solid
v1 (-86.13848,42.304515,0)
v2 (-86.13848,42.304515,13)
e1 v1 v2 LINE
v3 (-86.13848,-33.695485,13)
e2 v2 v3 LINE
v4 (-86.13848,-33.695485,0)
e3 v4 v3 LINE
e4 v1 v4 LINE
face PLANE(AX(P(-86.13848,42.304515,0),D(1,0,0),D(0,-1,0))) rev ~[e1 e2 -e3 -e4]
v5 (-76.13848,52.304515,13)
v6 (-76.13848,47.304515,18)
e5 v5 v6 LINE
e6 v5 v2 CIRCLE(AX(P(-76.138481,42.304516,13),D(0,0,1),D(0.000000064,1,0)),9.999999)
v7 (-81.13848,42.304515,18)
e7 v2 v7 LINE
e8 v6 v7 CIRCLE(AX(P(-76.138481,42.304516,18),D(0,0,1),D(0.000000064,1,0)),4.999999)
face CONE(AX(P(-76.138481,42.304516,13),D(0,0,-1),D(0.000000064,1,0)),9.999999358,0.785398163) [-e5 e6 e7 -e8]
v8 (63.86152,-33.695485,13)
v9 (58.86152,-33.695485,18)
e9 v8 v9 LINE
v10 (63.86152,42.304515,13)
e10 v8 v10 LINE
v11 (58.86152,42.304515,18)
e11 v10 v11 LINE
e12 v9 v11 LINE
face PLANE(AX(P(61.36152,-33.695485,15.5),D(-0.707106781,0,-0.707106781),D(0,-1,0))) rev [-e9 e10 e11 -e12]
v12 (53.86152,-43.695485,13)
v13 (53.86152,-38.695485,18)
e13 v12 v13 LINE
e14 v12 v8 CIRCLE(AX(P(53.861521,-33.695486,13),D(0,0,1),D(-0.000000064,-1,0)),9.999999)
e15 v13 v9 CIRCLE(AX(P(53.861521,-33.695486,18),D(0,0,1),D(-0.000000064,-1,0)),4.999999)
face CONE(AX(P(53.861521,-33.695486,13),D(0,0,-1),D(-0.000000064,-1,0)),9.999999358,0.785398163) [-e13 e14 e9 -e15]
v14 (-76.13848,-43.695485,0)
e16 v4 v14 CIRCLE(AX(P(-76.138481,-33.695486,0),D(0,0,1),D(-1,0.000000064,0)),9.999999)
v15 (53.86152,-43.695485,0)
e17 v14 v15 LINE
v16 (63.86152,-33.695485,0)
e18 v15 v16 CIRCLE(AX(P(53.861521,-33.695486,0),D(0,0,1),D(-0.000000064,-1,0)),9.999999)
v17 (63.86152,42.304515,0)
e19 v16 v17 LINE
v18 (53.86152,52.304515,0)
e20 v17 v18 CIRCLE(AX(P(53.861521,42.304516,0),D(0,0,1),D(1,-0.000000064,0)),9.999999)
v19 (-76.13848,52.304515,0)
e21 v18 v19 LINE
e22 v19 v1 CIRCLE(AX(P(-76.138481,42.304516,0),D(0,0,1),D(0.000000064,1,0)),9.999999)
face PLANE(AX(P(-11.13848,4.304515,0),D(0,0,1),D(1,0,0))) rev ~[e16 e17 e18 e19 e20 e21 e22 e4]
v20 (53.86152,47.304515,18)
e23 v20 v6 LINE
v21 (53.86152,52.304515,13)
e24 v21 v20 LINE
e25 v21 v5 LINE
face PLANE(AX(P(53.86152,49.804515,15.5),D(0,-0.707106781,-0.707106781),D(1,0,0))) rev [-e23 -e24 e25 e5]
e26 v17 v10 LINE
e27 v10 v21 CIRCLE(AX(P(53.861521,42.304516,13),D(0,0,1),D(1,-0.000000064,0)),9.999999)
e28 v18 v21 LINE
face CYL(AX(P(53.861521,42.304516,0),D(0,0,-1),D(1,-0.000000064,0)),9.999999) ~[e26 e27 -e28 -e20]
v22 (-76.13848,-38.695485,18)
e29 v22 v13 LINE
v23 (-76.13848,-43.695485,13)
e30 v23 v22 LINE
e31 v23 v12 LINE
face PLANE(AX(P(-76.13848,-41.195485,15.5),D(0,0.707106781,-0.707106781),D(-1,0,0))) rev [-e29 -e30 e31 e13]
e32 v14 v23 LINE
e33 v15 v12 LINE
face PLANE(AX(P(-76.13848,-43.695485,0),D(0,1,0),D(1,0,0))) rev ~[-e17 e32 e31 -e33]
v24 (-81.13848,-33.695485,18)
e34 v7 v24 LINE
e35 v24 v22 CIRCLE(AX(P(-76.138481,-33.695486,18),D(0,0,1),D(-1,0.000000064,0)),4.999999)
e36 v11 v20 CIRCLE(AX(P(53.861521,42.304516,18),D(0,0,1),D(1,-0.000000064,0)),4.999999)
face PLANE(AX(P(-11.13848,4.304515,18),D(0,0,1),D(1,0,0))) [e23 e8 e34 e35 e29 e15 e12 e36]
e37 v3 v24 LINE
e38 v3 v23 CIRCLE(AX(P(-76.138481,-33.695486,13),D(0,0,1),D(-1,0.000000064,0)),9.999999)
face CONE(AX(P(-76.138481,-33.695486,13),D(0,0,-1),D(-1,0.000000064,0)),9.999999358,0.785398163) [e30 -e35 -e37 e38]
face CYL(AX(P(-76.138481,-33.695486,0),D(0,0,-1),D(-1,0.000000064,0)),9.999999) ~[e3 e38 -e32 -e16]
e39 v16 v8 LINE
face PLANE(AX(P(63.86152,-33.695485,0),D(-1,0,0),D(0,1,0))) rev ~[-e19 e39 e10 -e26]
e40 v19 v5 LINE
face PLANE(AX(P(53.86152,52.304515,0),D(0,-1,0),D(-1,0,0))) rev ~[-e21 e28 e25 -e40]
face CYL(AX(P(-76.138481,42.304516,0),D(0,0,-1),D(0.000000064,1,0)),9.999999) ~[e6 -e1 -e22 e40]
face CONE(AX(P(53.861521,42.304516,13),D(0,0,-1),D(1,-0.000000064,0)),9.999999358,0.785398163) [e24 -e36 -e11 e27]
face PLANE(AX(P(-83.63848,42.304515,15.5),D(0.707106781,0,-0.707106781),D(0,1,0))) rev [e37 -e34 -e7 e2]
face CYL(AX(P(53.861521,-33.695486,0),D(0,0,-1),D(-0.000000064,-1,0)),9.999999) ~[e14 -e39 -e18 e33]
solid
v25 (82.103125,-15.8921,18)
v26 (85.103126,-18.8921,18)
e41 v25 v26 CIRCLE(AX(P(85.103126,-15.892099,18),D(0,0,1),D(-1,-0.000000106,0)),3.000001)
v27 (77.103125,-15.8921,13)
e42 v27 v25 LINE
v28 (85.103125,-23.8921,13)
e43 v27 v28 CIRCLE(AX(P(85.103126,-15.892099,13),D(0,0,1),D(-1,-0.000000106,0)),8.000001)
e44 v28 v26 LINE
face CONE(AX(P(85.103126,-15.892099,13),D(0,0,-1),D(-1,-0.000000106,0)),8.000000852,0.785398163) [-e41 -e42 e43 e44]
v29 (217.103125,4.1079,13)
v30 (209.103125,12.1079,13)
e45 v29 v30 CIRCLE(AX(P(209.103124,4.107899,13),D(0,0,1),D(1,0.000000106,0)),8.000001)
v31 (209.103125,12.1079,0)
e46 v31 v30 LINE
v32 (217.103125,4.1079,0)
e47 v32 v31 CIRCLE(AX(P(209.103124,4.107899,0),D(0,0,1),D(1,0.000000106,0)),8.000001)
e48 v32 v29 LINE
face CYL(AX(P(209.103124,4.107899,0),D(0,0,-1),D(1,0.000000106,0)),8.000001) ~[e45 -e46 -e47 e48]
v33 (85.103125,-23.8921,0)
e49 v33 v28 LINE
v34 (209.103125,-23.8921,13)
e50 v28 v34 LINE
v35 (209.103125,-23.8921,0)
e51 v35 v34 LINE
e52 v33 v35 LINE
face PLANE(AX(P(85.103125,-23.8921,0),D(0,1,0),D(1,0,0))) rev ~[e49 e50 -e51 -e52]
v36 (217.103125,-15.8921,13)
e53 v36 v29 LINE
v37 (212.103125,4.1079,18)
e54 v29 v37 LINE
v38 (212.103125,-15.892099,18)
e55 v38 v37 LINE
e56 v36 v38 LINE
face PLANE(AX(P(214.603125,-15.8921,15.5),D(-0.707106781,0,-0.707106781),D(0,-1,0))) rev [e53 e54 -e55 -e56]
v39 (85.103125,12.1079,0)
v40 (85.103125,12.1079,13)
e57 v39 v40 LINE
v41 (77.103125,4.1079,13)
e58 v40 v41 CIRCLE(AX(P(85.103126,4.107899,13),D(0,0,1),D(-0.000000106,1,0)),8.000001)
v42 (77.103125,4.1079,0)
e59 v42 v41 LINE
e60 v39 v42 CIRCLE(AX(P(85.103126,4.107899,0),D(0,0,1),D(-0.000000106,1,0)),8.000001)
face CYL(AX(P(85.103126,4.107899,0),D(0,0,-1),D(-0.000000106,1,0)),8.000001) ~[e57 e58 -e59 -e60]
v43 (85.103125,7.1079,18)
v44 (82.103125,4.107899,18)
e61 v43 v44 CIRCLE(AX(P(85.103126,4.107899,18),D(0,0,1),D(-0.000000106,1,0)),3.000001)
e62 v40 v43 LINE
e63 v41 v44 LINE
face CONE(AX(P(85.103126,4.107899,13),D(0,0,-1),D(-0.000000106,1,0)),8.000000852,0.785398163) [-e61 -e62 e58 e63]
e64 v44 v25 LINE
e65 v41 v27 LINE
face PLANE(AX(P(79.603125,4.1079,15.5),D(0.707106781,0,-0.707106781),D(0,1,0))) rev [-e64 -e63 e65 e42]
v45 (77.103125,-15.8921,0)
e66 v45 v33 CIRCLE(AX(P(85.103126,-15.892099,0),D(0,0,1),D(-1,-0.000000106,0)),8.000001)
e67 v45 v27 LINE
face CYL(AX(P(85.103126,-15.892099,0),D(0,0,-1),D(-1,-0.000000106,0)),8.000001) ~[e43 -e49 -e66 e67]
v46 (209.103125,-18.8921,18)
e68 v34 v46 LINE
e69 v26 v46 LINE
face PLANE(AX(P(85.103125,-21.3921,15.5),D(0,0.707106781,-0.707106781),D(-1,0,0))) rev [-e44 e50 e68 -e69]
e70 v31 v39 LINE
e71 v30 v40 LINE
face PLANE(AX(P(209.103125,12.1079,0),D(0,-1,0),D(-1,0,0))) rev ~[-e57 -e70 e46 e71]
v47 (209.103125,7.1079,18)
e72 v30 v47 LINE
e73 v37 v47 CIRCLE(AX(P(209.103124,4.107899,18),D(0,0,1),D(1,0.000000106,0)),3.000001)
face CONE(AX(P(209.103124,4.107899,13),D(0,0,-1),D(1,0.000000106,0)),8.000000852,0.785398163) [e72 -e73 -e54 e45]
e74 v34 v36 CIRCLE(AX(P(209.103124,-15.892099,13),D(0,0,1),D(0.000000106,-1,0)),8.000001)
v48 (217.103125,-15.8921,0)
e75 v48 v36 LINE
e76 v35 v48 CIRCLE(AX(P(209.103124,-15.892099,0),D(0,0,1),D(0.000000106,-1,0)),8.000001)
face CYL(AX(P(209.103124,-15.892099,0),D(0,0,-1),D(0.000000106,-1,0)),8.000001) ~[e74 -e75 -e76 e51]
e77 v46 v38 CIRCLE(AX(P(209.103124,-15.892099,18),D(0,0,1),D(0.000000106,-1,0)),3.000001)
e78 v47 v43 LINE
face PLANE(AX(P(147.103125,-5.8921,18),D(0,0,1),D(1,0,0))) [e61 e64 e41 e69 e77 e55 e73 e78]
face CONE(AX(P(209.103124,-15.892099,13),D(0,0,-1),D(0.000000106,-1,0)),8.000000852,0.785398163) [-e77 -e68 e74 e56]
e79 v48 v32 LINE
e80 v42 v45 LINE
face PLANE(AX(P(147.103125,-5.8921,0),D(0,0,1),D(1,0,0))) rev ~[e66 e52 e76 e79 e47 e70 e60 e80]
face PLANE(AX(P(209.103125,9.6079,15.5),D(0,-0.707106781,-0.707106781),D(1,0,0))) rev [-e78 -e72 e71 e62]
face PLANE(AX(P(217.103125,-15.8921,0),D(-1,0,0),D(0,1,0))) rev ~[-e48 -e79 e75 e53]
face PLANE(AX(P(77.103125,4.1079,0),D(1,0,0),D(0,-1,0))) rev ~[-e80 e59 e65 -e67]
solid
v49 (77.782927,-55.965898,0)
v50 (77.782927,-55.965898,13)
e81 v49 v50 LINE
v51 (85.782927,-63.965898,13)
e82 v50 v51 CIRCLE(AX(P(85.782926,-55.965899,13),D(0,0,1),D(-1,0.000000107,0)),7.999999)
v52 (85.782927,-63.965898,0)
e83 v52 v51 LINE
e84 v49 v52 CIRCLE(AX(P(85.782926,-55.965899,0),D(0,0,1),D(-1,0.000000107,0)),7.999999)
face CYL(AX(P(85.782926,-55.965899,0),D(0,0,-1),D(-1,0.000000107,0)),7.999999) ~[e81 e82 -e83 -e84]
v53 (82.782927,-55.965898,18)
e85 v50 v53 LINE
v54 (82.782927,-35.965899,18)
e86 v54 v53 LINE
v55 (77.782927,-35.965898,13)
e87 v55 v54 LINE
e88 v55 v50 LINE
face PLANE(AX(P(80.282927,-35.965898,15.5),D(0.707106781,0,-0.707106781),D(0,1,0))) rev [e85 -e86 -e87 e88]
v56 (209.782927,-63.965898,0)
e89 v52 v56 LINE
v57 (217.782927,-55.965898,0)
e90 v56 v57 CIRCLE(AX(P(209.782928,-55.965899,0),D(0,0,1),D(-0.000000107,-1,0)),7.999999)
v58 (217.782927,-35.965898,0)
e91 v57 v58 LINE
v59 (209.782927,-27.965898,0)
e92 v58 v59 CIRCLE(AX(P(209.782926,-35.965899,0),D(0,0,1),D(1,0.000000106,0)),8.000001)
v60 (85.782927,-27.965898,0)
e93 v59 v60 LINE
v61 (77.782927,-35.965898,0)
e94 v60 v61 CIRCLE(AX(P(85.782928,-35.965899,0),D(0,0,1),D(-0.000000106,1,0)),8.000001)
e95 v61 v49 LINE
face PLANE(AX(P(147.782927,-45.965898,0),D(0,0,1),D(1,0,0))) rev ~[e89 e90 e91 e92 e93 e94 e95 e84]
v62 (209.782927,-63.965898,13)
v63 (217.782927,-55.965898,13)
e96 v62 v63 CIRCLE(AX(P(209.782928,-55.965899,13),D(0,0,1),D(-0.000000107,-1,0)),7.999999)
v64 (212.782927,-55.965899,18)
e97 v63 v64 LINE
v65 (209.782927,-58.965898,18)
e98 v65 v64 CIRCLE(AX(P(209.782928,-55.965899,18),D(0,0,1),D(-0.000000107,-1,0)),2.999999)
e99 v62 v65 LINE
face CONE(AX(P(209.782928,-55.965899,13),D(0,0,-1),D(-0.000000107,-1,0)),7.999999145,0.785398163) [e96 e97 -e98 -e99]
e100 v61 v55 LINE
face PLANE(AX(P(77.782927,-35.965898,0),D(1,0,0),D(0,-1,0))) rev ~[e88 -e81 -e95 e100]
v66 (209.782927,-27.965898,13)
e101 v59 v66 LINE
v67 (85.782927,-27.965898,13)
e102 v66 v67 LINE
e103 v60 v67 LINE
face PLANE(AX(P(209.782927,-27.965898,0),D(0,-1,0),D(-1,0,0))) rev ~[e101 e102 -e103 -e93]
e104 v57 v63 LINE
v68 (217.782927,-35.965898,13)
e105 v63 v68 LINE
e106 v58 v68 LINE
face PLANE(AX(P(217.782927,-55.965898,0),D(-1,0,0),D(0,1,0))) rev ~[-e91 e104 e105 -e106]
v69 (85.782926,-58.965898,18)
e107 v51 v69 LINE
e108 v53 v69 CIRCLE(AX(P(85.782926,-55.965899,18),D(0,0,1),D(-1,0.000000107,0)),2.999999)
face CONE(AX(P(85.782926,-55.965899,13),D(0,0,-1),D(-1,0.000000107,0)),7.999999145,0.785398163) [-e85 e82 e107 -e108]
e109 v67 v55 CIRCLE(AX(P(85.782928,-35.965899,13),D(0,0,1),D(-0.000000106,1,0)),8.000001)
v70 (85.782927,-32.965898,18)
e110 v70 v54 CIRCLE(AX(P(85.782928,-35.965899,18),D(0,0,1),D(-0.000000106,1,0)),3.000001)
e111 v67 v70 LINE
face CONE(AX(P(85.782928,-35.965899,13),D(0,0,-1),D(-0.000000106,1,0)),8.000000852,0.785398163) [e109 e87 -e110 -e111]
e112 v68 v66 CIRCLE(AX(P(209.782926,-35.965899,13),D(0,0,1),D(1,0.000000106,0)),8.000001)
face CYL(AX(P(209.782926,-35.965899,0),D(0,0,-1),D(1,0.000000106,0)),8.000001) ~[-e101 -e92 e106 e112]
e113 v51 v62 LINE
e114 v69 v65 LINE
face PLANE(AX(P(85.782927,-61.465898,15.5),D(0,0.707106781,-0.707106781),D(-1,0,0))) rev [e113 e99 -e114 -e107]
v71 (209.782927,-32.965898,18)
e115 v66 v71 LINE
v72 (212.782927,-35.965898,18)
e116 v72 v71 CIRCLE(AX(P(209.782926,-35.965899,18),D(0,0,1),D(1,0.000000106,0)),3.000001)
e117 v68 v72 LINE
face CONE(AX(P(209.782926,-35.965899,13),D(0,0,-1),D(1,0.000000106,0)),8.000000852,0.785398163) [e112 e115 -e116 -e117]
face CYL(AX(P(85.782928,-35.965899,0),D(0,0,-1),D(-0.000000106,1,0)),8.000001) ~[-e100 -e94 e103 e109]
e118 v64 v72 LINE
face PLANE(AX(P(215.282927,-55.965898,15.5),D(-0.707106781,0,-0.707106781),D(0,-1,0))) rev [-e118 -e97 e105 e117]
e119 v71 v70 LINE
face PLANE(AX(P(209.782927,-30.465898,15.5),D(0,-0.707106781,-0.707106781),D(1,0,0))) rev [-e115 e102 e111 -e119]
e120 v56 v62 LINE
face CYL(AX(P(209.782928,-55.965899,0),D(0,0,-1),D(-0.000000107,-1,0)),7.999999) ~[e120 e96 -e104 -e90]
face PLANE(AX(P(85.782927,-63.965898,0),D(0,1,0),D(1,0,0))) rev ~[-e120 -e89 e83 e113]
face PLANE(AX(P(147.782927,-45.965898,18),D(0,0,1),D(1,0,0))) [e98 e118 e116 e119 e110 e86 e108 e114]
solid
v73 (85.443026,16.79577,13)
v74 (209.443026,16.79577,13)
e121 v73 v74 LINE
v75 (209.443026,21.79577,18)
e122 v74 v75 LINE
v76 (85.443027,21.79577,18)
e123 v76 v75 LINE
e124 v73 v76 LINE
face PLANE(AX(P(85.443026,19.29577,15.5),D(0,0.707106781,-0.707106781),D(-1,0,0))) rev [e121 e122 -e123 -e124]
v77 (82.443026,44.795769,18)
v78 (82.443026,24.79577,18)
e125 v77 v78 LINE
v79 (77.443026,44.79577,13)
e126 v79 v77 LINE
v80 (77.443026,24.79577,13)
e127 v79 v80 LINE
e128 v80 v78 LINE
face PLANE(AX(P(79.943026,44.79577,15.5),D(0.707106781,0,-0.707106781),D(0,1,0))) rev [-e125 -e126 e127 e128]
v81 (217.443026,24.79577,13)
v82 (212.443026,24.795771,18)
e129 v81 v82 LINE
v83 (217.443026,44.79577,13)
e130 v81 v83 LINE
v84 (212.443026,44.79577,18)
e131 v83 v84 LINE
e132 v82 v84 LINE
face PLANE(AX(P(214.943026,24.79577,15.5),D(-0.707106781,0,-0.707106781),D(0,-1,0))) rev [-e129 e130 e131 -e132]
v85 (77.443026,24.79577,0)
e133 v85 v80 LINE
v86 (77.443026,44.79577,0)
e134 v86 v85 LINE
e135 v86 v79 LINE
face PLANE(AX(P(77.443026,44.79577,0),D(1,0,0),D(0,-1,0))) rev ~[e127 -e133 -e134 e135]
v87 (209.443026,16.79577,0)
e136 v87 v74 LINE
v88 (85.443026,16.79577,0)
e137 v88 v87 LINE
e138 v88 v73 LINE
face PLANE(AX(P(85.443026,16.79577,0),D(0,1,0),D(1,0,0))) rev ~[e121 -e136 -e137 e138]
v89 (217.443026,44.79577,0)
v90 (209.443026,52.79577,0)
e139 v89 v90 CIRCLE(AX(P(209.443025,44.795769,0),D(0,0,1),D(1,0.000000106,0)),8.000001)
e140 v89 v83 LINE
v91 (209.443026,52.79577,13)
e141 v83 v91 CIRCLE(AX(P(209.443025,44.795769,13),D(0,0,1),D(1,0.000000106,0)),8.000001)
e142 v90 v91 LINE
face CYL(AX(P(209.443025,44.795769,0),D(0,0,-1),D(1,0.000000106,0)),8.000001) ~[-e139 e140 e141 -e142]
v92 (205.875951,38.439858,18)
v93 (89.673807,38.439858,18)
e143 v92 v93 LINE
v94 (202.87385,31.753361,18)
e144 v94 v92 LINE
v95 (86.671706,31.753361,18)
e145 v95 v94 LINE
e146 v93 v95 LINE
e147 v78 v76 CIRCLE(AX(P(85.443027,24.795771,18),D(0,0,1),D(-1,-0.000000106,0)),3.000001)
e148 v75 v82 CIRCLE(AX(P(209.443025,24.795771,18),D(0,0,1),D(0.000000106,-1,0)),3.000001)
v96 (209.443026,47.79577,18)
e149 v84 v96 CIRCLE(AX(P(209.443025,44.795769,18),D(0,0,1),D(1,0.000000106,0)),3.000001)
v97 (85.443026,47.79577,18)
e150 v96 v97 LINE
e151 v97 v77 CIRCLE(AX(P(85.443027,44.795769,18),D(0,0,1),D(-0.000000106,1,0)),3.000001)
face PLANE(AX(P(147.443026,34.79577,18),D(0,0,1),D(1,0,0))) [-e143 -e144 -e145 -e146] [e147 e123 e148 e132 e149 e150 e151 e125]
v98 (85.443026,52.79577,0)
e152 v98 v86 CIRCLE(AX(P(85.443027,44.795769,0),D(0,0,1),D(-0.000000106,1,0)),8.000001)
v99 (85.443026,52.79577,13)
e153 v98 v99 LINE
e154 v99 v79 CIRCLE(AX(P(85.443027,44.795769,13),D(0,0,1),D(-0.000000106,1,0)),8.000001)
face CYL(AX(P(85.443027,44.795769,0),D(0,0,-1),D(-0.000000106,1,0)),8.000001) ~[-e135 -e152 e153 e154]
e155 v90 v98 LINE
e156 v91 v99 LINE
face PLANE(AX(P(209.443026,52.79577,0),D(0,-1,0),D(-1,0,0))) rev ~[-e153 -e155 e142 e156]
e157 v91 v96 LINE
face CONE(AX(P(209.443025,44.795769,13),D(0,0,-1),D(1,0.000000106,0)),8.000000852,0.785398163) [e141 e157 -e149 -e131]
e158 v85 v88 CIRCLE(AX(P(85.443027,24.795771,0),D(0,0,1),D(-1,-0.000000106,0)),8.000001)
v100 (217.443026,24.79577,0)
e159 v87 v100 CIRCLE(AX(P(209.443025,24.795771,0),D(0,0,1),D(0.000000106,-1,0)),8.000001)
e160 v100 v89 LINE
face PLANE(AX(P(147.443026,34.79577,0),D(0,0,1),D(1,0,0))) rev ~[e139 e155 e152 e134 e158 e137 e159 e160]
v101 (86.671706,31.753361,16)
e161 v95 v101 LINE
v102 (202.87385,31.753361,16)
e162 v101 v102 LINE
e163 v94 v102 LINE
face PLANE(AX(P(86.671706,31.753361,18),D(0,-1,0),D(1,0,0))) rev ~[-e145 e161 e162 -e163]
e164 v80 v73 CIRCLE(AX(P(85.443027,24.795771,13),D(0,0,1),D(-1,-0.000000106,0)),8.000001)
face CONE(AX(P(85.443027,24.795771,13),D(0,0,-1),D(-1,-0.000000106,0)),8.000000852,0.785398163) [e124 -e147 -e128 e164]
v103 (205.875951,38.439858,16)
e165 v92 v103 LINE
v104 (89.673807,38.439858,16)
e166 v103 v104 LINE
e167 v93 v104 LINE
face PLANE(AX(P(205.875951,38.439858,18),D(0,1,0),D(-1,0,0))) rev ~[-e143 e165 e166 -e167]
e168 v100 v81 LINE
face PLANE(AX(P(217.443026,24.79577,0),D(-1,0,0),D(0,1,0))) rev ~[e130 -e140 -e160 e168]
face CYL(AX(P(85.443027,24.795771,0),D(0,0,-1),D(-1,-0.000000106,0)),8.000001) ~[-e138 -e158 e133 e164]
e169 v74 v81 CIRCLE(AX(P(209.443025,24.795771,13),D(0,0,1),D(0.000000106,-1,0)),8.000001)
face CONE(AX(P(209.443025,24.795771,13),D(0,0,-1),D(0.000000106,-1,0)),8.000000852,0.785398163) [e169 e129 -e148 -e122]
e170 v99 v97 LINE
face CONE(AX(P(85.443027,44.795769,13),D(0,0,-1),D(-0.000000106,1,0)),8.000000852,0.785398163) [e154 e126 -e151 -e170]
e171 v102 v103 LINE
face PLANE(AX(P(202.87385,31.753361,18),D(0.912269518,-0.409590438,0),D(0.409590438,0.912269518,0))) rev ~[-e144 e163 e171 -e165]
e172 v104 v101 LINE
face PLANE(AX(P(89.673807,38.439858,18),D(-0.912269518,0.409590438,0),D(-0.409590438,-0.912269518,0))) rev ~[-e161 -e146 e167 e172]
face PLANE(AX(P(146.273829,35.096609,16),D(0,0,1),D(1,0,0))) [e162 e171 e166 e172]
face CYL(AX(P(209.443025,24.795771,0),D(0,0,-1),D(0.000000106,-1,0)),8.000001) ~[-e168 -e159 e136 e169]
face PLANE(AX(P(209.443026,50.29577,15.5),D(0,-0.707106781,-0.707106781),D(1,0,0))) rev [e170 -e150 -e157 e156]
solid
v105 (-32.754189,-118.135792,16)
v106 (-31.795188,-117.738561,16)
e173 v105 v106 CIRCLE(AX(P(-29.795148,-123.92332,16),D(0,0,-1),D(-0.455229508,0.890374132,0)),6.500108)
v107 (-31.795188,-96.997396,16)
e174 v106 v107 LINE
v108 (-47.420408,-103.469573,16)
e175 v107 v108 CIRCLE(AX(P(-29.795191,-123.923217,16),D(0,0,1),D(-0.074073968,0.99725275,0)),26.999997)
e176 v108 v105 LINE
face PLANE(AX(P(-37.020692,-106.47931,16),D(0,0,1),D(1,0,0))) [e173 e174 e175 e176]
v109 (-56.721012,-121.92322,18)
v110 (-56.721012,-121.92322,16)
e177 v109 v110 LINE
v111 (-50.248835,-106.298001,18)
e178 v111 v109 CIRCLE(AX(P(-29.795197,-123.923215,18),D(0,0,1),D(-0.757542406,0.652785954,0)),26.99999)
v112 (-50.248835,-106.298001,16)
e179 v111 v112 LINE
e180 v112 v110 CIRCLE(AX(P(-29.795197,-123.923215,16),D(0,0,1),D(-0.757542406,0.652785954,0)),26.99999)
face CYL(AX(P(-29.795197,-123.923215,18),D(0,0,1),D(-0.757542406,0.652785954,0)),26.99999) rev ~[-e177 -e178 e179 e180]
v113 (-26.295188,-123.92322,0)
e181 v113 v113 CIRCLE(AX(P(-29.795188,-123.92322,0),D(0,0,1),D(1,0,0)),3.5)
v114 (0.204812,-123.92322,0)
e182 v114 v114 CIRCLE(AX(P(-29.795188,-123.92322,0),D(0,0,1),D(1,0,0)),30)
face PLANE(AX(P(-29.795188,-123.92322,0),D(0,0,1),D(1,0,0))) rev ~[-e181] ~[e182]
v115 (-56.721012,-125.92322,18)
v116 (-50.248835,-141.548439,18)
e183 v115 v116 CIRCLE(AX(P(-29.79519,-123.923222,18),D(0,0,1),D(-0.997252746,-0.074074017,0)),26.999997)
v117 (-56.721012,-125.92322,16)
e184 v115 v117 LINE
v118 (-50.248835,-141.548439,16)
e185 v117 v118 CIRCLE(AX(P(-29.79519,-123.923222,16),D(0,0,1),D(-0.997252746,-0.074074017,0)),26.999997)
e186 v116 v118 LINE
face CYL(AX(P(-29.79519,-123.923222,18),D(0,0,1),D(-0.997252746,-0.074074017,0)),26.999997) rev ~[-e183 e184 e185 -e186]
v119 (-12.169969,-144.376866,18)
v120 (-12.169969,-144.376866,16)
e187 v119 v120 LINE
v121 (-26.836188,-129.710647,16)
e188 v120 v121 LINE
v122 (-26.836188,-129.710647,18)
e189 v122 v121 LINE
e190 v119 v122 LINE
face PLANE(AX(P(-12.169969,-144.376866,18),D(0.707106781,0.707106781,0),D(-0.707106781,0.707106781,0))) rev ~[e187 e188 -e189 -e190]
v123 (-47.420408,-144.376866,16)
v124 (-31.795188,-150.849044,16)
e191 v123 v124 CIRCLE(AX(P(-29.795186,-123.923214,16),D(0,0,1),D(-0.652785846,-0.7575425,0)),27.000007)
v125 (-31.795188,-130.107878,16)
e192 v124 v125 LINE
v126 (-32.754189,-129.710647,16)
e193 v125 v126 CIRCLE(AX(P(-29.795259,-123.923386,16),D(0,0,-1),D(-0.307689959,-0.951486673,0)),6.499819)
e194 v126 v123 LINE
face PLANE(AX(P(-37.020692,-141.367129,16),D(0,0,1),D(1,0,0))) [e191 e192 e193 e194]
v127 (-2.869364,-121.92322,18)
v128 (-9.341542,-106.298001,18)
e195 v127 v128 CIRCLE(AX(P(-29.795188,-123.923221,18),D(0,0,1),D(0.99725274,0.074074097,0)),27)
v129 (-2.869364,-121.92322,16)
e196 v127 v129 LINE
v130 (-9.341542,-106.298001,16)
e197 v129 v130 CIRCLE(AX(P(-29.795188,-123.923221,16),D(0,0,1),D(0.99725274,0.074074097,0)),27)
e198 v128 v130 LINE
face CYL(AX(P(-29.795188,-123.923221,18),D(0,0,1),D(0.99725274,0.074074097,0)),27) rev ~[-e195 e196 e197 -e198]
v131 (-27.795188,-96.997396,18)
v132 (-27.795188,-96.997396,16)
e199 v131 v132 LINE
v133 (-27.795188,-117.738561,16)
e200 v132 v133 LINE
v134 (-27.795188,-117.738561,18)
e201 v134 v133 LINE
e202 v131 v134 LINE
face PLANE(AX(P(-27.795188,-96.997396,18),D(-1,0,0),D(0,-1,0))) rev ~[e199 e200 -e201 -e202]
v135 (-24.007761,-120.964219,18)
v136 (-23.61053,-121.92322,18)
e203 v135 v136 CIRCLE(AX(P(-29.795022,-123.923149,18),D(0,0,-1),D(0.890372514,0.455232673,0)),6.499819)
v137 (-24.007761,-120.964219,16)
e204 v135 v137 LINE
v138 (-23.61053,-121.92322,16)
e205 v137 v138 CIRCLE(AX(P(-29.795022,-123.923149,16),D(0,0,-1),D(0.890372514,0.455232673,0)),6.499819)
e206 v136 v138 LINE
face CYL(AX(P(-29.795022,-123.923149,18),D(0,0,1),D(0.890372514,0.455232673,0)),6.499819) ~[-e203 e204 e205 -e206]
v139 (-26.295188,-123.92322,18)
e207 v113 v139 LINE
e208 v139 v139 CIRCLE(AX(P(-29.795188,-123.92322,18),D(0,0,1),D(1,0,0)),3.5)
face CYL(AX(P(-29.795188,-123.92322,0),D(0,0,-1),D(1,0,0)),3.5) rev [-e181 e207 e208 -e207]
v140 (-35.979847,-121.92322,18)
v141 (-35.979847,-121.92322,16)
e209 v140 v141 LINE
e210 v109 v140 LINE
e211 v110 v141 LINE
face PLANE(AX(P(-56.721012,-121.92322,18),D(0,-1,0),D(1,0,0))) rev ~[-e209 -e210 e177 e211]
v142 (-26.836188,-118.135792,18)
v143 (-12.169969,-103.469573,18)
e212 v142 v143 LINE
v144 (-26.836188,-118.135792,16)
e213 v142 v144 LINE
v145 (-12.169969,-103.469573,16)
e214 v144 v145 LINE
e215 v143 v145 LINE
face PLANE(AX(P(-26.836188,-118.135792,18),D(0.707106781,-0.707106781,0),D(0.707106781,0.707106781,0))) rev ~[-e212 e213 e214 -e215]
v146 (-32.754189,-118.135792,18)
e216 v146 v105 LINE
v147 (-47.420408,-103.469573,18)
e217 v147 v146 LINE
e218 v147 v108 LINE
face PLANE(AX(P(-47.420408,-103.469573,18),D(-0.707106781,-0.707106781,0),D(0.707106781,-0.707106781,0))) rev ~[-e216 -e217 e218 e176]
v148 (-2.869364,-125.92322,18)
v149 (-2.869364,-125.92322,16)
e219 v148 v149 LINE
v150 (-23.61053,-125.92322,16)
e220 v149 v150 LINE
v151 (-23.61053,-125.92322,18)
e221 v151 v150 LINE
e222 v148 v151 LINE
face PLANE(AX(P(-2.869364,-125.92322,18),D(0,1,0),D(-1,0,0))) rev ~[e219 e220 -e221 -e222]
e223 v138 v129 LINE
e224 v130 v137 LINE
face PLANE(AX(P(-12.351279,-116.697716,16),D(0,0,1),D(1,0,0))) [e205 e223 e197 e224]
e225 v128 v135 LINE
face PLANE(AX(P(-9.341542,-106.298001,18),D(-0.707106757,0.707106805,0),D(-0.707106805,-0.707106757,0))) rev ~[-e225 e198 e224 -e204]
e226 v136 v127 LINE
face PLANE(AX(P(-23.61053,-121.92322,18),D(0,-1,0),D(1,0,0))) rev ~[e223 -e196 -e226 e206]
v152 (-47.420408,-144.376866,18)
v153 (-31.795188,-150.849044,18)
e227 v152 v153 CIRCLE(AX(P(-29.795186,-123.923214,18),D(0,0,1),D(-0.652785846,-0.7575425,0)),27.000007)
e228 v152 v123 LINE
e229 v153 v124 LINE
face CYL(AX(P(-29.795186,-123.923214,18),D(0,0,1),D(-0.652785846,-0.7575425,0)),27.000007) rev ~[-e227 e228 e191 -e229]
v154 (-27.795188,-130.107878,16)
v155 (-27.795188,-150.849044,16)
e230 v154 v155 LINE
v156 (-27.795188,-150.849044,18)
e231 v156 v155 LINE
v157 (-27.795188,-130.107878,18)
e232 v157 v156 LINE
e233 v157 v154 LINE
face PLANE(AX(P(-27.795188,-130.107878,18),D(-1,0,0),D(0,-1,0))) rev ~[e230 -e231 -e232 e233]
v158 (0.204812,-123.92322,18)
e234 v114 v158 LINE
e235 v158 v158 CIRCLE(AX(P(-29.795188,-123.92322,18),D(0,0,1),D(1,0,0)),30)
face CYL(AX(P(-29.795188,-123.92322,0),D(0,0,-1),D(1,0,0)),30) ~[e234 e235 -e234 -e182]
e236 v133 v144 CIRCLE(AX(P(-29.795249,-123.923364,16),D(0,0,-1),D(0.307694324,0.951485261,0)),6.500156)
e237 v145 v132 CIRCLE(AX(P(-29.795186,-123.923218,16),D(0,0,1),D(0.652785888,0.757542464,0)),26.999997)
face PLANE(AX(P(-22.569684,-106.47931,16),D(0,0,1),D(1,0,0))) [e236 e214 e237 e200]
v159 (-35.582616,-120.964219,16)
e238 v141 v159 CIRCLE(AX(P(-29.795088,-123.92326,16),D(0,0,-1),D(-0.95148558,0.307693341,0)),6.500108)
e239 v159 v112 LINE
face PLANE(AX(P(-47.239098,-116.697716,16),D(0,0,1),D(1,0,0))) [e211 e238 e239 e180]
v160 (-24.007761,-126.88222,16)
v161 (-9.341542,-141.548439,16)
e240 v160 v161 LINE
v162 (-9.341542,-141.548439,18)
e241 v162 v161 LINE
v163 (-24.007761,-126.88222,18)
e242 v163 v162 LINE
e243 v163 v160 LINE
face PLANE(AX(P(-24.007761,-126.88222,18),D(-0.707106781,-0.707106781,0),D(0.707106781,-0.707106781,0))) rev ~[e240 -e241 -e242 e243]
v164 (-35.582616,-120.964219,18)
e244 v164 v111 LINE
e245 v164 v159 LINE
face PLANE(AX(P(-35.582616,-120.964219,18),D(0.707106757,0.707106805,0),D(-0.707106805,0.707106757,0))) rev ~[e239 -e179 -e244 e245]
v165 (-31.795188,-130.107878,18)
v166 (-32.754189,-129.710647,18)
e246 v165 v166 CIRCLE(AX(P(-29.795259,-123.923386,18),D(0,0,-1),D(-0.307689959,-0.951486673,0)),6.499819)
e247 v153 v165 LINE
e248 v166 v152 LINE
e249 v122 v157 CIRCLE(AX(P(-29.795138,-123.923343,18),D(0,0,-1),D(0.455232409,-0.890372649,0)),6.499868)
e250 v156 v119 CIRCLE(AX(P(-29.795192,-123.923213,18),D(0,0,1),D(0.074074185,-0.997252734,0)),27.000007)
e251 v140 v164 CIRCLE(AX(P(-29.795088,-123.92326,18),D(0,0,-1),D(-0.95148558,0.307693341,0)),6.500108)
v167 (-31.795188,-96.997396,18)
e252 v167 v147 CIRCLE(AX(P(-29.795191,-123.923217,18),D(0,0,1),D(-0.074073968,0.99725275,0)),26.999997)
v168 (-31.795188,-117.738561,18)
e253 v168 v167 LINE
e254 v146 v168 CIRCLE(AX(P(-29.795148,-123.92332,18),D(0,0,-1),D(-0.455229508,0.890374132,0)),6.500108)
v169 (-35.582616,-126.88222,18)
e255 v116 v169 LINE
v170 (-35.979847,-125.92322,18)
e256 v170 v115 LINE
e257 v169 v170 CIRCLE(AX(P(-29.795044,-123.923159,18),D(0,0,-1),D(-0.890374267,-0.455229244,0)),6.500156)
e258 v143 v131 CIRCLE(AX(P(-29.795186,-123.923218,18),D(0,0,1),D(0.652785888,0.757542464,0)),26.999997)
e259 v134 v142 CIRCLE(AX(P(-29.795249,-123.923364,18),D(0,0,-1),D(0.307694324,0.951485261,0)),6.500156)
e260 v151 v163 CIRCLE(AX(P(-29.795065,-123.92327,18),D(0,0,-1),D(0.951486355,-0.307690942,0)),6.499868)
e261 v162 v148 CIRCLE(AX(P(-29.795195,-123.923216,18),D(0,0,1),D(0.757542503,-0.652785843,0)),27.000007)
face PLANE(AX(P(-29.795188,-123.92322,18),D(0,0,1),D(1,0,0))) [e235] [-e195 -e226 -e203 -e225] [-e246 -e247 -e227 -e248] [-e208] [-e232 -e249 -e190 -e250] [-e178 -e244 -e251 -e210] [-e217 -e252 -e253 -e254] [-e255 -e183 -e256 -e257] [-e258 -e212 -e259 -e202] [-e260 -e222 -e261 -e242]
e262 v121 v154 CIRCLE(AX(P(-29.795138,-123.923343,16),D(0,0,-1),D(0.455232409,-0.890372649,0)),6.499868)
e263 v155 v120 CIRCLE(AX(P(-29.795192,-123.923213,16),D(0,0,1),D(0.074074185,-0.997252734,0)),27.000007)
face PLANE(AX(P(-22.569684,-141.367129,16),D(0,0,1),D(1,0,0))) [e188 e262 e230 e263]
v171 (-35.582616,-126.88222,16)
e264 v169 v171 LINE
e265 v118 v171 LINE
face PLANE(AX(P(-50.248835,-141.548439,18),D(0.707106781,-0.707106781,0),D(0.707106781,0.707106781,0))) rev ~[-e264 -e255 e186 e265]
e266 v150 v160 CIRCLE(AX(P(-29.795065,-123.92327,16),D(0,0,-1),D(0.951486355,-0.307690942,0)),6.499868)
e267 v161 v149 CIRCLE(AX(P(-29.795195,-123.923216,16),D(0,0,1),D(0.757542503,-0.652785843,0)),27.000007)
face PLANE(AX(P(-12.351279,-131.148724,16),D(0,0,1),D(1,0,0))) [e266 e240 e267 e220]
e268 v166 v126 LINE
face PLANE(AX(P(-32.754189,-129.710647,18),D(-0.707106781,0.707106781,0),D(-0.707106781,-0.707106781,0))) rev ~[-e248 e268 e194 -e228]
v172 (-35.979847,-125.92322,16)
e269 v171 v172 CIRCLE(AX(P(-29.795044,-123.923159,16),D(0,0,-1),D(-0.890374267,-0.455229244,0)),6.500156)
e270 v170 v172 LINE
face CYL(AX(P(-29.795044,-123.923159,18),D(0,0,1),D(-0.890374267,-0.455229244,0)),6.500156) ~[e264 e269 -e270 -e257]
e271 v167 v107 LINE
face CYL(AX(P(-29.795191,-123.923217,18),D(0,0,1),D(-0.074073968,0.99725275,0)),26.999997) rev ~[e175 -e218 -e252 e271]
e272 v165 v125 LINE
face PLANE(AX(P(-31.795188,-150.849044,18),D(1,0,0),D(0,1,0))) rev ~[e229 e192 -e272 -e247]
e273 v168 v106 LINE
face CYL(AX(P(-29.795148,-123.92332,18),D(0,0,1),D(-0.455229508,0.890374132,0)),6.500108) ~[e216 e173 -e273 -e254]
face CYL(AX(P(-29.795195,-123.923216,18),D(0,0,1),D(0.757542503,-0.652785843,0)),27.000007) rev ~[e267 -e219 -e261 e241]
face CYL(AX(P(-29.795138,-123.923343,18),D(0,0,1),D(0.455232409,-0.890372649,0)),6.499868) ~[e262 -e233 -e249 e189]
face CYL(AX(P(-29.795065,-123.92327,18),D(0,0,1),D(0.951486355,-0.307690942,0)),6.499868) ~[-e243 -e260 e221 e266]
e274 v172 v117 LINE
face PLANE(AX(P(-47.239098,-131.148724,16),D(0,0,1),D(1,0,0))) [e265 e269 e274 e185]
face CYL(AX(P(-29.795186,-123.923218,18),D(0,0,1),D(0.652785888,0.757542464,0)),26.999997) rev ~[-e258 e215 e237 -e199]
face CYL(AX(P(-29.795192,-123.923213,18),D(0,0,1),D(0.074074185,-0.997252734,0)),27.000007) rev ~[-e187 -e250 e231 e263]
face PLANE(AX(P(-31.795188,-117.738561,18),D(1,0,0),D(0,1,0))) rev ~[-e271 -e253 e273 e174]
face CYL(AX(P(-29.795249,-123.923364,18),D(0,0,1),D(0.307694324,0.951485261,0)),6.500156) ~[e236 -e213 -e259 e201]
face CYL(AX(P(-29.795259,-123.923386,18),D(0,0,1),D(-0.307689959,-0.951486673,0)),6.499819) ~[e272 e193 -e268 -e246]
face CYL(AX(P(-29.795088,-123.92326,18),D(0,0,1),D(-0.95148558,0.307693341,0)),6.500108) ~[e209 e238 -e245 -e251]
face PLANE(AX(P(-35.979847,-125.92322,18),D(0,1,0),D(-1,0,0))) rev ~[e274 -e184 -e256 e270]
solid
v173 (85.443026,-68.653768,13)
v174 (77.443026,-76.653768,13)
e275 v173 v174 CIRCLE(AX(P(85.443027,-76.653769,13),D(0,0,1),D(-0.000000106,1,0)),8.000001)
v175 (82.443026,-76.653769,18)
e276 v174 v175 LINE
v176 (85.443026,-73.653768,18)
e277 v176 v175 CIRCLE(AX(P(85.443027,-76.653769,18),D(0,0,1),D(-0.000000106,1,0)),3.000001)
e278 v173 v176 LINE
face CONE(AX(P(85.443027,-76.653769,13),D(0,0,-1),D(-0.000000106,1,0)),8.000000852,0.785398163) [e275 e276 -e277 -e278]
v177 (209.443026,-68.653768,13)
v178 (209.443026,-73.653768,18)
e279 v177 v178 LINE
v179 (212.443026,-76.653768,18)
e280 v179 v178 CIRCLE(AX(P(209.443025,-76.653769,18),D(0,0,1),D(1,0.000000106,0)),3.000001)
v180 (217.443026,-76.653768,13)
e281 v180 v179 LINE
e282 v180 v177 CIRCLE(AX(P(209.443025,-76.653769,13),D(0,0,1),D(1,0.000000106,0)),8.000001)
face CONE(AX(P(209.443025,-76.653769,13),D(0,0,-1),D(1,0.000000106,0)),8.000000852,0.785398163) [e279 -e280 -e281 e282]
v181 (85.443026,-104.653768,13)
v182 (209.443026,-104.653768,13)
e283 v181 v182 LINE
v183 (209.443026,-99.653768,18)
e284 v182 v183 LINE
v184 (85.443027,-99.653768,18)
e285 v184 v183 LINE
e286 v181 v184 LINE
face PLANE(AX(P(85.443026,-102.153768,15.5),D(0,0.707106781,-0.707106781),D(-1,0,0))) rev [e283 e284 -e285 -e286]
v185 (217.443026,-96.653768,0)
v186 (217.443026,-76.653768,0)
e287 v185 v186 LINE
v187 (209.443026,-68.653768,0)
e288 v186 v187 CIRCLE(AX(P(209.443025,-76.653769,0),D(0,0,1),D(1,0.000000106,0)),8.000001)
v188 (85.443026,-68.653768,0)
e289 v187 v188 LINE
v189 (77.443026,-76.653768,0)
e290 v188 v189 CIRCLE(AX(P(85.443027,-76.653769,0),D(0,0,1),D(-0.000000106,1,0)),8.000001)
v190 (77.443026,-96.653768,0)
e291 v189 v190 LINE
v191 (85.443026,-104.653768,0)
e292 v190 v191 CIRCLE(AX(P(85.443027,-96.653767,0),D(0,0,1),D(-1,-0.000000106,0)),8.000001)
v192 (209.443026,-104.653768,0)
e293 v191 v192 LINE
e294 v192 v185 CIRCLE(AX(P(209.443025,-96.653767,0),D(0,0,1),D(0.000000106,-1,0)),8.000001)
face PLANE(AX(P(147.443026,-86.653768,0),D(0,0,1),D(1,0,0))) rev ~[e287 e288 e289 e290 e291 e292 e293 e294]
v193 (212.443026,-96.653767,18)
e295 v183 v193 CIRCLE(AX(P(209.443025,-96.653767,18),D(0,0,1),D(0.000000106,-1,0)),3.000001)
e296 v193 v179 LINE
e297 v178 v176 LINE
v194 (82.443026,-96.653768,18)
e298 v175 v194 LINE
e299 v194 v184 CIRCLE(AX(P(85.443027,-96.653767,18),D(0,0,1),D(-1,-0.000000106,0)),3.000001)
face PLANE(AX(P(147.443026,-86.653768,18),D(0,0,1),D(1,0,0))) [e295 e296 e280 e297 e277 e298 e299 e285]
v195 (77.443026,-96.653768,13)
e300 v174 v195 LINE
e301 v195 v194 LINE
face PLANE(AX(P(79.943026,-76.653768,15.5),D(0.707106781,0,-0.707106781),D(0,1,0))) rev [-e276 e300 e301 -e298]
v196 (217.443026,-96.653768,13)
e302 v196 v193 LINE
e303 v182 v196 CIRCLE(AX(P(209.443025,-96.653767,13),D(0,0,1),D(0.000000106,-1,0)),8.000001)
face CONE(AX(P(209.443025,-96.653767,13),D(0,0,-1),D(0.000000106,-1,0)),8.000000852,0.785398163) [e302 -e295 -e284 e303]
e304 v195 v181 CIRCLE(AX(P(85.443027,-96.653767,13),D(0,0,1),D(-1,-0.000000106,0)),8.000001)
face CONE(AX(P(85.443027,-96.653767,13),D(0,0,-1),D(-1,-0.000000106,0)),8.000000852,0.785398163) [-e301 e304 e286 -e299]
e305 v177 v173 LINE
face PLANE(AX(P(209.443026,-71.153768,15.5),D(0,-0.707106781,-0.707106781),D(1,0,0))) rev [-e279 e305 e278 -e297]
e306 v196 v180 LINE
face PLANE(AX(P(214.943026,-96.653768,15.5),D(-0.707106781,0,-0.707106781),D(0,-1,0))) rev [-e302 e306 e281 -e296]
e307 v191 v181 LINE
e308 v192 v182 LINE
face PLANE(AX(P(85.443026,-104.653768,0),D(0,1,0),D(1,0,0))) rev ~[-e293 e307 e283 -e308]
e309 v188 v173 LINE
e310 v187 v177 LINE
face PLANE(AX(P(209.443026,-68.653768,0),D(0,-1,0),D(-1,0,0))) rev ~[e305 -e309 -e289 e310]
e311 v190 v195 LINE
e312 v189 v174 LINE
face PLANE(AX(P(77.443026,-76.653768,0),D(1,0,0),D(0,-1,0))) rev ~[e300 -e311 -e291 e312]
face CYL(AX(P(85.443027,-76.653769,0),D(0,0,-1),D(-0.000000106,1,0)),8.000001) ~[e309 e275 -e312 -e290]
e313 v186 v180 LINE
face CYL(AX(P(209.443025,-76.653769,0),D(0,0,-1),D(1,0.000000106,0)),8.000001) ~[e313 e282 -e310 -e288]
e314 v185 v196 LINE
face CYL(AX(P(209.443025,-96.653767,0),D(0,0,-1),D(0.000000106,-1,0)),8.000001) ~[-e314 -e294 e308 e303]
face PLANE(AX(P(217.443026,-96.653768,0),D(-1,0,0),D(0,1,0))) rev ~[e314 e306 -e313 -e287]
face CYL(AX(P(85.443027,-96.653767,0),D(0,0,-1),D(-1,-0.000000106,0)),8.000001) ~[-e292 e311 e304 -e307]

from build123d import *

# Parameters (mm, degrees)
F1_DEPTH = 18
F2_SIZE  = 5
F5_DEPTH = 2
F6_R     = 30
F6_R_2   = 3.5
F7_DEPTH = 18
F9_DEPTH = 2


with BuildPart() as f1:
    # F0 (on Top) → F1 (new body)
    with BuildSketch(Plane.XY):
        with BuildLine():
            Line((53.86152, 52.304515), (-76.13848, 52.304515))
            ThreePointArc((-76.13848, 52.304515), (-83.209548, 49.375583), (-86.13848, 42.304515))
            Line((-86.13848, 42.304515), (-86.13848, -33.695485))
            ThreePointArc((-86.13848, -33.695485), (-83.209548, -40.766553), (-76.13848, -43.695485))
            Line((-76.13848, -43.695485), (53.86152, -43.695485))
            ThreePointArc((53.86152, -43.695485), (60.932588, -40.766553), (63.86152, -33.695485))
            Line((63.86152, -33.695485), (63.86152, 42.304515))
            ThreePointArc((63.86152, 42.304515), (60.932588, 49.375583), (53.86152, 52.304515))
        make_face()
        with BuildLine():
            Line((209.443026, 52.79577), (85.443026, 52.79577))
            ThreePointArc((85.443026, 52.79577), (79.786172, 50.452624), (77.443026, 44.79577))
            Line((77.443026, 44.79577), (77.443026, 24.79577))
            ThreePointArc((77.443026, 24.79577), (79.786172, 19.138916), (85.443026, 16.79577))
            Line((85.443026, 16.79577), (209.443026, 16.79577))
            ThreePointArc((209.443026, 16.79577), (215.09988, 19.138916), (217.443026, 24.79577))
            Line((217.443026, 24.79577), (217.443026, 44.79577))
            ThreePointArc((217.443026, 44.79577), (215.09988, 50.452624), (209.443026, 52.79577))
        make_face()
        with BuildLine():
            Line((209.103125, 12.1079), (85.103125, 12.1079))
            ThreePointArc((85.103125, 12.1079), (79.446271, 9.764754), (77.103125, 4.1079))
            Line((77.103125, 4.1079), (77.103125, -15.8921))
            ThreePointArc((77.103125, -15.8921), (79.446271, -21.548954), (85.103125, -23.8921))
            Line((85.103125, -23.8921), (209.103125, -23.8921))
            ThreePointArc((209.103125, -23.8921), (214.759979, -21.548954), (217.103125, -15.8921))
            Line((217.103125, -15.8921), (217.103125, 4.1079))
            ThreePointArc((217.103125, 4.1079), (214.759979, 9.764754), (209.103125, 12.1079))
        make_face()
        with BuildLine():
            Line((209.782927, -27.965898), (85.782927, -27.965898))
            ThreePointArc((85.782927, -27.965898), (80.126073, -30.309044), (77.782927, -35.965898))
            Line((77.782927, -35.965898), (77.782927, -55.965898))
            ThreePointArc((77.782927, -55.965898), (80.126073, -61.622753), (85.782927, -63.965898))
            Line((85.782927, -63.965898), (209.782927, -63.965898))
            ThreePointArc((209.782927, -63.965898), (215.439781, -61.622753), (217.782927, -55.965898))
            Line((217.782927, -55.965898), (217.782927, -35.965898))
            ThreePointArc((217.782927, -35.965898), (215.439781, -30.309044), (209.782927, -27.965898))
        make_face()
        with BuildLine():
            Line((209.443026, -68.653768), (85.443026, -68.653768))
            ThreePointArc((85.443026, -68.653768), (79.786172, -70.996914), (77.443026, -76.653768))
            Line((77.443026, -76.653768), (77.443026, -96.653768))
            ThreePointArc((77.443026, -96.653768), (79.786172, -102.310622), (85.443026, -104.653768))
            Line((85.443026, -104.653768), (209.443026, -104.653768))
            ThreePointArc((209.443026, -104.653768), (215.09988, -102.310622), (217.443026, -96.653768))
            Line((217.443026, -96.653768), (217.443026, -76.653768))
            ThreePointArc((217.443026, -76.653768), (215.09988, -70.996914), (209.443026, -68.653768))
        make_face()
    extrude(amount=F1_DEPTH)

    # F2
    f2_edges = [f1.edges().sort_by_distance(p)[0] for p in [
        (-11.13848, 52.304515, 18),
        (-83.209548, 49.375583, 18),
        (-86.13848, 4.304515, 18),
        (-83.209548, -40.766553, 18),
        (-11.13848, -43.695485, 18),
        (60.932588, -40.766553, 18),
        (63.86152, 4.304515, 18),
        (60.932588, 49.375583, 18),
        (147.443026, 52.79577, 18),
        (79.786172, 50.452624, 18),
        (77.443026, 34.79577, 18),
        (79.786172, 19.138916, 18),
        (147.443026, 16.79577, 18),
        (215.09988, 19.138916, 18),
        (217.443026, 34.79577, 18),
        (215.09988, 50.452624, 18),
        (147.103125, 12.1079, 18),
        (79.446271, 9.764754, 18),
        (77.103125, -5.8921, 18),
        (79.446271, -21.548954, 18),
        (147.103125, -23.8921, 18),
        (214.759979, -21.548954, 18),
        (217.103125, -5.8921, 18),
        (214.759979, 9.764754, 18),
        (147.782927, -27.965898, 18),
        (80.126073, -30.309044, 18),
        (77.782927, -45.965898, 18),
        (80.126073, -61.622753, 18),
        (147.782927, -63.965898, 18),
        (215.439781, -61.622753, 18),
        (217.782927, -45.965898, 18),
        (215.439781, -30.309044, 18),
        (147.443026, -68.653768, 18),
        (79.786172, -70.996914, 18),
        (77.443026, -86.653768, 18),
        (79.786172, -102.310622, 18),
        (147.443026, -104.653768, 18),
        (215.09988, -102.310622, 18),
        (217.443026, -86.653768, 18),
        (215.09988, -70.996914, 18),
    ]]
    chamfer(f2_edges, length=F2_SIZE)

    # F4 (on face) → F5 (cut)
    with BuildSketch(Plane.XY.offset(18)):
        Polygon((205.875951, 38.439858), (89.673807, 38.439858), (86.671706, 31.753361), (202.87385, 31.753361), align=None)
    extrude(amount=-F5_DEPTH, mode=Mode.SUBTRACT)


with BuildPart() as f7:
    # F6 (on Top) → F7 (new body)
    with BuildSketch(Plane.XY):
        with Locations((-29.795188, -123.92322)):
            Circle(F6_R)
        with Locations((-29.795188, -123.92322)):
            Circle(F6_R_2, mode=Mode.SUBTRACT)
    extrude(amount=F7_DEPTH)

    # F8 (on face) → F9 (cut)
    with BuildSketch(Plane.XY.offset(18)):
        with BuildLine():
            Line((-26.836188, -118.135792), (-12.169969, -103.469573))
            ThreePointArc((-12.169969, -103.469573), (-19.462736, -98.978472), (-27.795188, -96.997396))
            Line((-27.795188, -96.997396), (-27.795188, -117.738561))
            ThreePointArc((-27.795188, -117.738561), (-27.307746, -117.918003), (-26.836188, -118.135792))
        make_face()
        with BuildLine():
            Line((-47.420408, -103.469573), (-32.754189, -118.135792))
            ThreePointArc((-32.754189, -118.135792), (-32.282631, -117.918003), (-31.795188, -117.738561))
            Line((-31.795188, -117.738561), (-31.795188, -96.997396))
            ThreePointArc((-31.795188, -96.997396), (-40.127641, -98.978472), (-47.420408, -103.469573))
        make_face()
        with BuildLine():
            ThreePointArc((-2.869364, -121.92322), (-4.850441, -113.590767), (-9.341542, -106.298001))
            Line((-9.341542, -106.298001), (-24.007761, -120.964219))
            ThreePointArc((-24.007761, -120.964219), (-23.789971, -121.435777), (-23.61053, -121.92322))
            Line((-23.61053, -121.92322), (-2.869364, -121.92322))
        make_face()
        with BuildLine():
            Line((-24.007761, -126.88222), (-9.341542, -141.548439))
            ThreePointArc((-9.341542, -141.548439), (-4.850441, -134.255672), (-2.869364, -125.92322))
            Line((-2.869364, -125.92322), (-23.61053, -125.92322))
            ThreePointArc((-23.61053, -125.92322), (-23.789971, -126.410662), (-24.007761, -126.88222))
        make_face()
        with BuildLine():
            ThreePointArc((-27.795188, -150.849044), (-19.462736, -148.867967), (-12.169969, -144.376866))
            Line((-12.169969, -144.376866), (-26.836188, -129.710647))
            ThreePointArc((-26.836188, -129.710647), (-27.307746, -129.928437), (-27.795188, -130.107878))
            Line((-27.795188, -130.107878), (-27.795188, -150.849044))
        make_face()
        with BuildLine():
            Line((-32.754189, -129.710647), (-47.420408, -144.376866))
            ThreePointArc((-47.420408, -144.376866), (-40.127641, -148.867967), (-31.795188, -150.849044))
            Line((-31.795188, -150.849044), (-31.795188, -130.107878))
            ThreePointArc((-31.795188, -130.107878), (-32.282631, -129.928437), (-32.754189, -129.710647))
        make_face()
        with BuildLine():
            ThreePointArc((-35.582616, -126.88222), (-35.800405, -126.410662), (-35.979847, -125.92322))
            Line((-35.979847, -125.92322), (-56.721012, -125.92322))
            ThreePointArc((-56.721012, -125.92322), (-54.739936, -134.255672), (-50.248835, -141.548439))
            Line((-50.248835, -141.548439), (-35.582616, -126.88222))
        make_face()
        with BuildLine():
            Line((-56.721012, -121.92322), (-35.979847, -121.92322))
            ThreePointArc((-35.979847, -121.92322), (-35.800405, -121.435777), (-35.582616, -120.964219))
            Line((-35.582616, -120.964219), (-50.248835, -106.298001))
            ThreePointArc((-50.248835, -106.298001), (-54.739936, -113.590767), (-56.721012, -121.92322))
        make_face()
    extrude(amount=-F9_DEPTH, mode=Mode.SUBTRACT)


solid = Compound([f1.part, f7.part])
